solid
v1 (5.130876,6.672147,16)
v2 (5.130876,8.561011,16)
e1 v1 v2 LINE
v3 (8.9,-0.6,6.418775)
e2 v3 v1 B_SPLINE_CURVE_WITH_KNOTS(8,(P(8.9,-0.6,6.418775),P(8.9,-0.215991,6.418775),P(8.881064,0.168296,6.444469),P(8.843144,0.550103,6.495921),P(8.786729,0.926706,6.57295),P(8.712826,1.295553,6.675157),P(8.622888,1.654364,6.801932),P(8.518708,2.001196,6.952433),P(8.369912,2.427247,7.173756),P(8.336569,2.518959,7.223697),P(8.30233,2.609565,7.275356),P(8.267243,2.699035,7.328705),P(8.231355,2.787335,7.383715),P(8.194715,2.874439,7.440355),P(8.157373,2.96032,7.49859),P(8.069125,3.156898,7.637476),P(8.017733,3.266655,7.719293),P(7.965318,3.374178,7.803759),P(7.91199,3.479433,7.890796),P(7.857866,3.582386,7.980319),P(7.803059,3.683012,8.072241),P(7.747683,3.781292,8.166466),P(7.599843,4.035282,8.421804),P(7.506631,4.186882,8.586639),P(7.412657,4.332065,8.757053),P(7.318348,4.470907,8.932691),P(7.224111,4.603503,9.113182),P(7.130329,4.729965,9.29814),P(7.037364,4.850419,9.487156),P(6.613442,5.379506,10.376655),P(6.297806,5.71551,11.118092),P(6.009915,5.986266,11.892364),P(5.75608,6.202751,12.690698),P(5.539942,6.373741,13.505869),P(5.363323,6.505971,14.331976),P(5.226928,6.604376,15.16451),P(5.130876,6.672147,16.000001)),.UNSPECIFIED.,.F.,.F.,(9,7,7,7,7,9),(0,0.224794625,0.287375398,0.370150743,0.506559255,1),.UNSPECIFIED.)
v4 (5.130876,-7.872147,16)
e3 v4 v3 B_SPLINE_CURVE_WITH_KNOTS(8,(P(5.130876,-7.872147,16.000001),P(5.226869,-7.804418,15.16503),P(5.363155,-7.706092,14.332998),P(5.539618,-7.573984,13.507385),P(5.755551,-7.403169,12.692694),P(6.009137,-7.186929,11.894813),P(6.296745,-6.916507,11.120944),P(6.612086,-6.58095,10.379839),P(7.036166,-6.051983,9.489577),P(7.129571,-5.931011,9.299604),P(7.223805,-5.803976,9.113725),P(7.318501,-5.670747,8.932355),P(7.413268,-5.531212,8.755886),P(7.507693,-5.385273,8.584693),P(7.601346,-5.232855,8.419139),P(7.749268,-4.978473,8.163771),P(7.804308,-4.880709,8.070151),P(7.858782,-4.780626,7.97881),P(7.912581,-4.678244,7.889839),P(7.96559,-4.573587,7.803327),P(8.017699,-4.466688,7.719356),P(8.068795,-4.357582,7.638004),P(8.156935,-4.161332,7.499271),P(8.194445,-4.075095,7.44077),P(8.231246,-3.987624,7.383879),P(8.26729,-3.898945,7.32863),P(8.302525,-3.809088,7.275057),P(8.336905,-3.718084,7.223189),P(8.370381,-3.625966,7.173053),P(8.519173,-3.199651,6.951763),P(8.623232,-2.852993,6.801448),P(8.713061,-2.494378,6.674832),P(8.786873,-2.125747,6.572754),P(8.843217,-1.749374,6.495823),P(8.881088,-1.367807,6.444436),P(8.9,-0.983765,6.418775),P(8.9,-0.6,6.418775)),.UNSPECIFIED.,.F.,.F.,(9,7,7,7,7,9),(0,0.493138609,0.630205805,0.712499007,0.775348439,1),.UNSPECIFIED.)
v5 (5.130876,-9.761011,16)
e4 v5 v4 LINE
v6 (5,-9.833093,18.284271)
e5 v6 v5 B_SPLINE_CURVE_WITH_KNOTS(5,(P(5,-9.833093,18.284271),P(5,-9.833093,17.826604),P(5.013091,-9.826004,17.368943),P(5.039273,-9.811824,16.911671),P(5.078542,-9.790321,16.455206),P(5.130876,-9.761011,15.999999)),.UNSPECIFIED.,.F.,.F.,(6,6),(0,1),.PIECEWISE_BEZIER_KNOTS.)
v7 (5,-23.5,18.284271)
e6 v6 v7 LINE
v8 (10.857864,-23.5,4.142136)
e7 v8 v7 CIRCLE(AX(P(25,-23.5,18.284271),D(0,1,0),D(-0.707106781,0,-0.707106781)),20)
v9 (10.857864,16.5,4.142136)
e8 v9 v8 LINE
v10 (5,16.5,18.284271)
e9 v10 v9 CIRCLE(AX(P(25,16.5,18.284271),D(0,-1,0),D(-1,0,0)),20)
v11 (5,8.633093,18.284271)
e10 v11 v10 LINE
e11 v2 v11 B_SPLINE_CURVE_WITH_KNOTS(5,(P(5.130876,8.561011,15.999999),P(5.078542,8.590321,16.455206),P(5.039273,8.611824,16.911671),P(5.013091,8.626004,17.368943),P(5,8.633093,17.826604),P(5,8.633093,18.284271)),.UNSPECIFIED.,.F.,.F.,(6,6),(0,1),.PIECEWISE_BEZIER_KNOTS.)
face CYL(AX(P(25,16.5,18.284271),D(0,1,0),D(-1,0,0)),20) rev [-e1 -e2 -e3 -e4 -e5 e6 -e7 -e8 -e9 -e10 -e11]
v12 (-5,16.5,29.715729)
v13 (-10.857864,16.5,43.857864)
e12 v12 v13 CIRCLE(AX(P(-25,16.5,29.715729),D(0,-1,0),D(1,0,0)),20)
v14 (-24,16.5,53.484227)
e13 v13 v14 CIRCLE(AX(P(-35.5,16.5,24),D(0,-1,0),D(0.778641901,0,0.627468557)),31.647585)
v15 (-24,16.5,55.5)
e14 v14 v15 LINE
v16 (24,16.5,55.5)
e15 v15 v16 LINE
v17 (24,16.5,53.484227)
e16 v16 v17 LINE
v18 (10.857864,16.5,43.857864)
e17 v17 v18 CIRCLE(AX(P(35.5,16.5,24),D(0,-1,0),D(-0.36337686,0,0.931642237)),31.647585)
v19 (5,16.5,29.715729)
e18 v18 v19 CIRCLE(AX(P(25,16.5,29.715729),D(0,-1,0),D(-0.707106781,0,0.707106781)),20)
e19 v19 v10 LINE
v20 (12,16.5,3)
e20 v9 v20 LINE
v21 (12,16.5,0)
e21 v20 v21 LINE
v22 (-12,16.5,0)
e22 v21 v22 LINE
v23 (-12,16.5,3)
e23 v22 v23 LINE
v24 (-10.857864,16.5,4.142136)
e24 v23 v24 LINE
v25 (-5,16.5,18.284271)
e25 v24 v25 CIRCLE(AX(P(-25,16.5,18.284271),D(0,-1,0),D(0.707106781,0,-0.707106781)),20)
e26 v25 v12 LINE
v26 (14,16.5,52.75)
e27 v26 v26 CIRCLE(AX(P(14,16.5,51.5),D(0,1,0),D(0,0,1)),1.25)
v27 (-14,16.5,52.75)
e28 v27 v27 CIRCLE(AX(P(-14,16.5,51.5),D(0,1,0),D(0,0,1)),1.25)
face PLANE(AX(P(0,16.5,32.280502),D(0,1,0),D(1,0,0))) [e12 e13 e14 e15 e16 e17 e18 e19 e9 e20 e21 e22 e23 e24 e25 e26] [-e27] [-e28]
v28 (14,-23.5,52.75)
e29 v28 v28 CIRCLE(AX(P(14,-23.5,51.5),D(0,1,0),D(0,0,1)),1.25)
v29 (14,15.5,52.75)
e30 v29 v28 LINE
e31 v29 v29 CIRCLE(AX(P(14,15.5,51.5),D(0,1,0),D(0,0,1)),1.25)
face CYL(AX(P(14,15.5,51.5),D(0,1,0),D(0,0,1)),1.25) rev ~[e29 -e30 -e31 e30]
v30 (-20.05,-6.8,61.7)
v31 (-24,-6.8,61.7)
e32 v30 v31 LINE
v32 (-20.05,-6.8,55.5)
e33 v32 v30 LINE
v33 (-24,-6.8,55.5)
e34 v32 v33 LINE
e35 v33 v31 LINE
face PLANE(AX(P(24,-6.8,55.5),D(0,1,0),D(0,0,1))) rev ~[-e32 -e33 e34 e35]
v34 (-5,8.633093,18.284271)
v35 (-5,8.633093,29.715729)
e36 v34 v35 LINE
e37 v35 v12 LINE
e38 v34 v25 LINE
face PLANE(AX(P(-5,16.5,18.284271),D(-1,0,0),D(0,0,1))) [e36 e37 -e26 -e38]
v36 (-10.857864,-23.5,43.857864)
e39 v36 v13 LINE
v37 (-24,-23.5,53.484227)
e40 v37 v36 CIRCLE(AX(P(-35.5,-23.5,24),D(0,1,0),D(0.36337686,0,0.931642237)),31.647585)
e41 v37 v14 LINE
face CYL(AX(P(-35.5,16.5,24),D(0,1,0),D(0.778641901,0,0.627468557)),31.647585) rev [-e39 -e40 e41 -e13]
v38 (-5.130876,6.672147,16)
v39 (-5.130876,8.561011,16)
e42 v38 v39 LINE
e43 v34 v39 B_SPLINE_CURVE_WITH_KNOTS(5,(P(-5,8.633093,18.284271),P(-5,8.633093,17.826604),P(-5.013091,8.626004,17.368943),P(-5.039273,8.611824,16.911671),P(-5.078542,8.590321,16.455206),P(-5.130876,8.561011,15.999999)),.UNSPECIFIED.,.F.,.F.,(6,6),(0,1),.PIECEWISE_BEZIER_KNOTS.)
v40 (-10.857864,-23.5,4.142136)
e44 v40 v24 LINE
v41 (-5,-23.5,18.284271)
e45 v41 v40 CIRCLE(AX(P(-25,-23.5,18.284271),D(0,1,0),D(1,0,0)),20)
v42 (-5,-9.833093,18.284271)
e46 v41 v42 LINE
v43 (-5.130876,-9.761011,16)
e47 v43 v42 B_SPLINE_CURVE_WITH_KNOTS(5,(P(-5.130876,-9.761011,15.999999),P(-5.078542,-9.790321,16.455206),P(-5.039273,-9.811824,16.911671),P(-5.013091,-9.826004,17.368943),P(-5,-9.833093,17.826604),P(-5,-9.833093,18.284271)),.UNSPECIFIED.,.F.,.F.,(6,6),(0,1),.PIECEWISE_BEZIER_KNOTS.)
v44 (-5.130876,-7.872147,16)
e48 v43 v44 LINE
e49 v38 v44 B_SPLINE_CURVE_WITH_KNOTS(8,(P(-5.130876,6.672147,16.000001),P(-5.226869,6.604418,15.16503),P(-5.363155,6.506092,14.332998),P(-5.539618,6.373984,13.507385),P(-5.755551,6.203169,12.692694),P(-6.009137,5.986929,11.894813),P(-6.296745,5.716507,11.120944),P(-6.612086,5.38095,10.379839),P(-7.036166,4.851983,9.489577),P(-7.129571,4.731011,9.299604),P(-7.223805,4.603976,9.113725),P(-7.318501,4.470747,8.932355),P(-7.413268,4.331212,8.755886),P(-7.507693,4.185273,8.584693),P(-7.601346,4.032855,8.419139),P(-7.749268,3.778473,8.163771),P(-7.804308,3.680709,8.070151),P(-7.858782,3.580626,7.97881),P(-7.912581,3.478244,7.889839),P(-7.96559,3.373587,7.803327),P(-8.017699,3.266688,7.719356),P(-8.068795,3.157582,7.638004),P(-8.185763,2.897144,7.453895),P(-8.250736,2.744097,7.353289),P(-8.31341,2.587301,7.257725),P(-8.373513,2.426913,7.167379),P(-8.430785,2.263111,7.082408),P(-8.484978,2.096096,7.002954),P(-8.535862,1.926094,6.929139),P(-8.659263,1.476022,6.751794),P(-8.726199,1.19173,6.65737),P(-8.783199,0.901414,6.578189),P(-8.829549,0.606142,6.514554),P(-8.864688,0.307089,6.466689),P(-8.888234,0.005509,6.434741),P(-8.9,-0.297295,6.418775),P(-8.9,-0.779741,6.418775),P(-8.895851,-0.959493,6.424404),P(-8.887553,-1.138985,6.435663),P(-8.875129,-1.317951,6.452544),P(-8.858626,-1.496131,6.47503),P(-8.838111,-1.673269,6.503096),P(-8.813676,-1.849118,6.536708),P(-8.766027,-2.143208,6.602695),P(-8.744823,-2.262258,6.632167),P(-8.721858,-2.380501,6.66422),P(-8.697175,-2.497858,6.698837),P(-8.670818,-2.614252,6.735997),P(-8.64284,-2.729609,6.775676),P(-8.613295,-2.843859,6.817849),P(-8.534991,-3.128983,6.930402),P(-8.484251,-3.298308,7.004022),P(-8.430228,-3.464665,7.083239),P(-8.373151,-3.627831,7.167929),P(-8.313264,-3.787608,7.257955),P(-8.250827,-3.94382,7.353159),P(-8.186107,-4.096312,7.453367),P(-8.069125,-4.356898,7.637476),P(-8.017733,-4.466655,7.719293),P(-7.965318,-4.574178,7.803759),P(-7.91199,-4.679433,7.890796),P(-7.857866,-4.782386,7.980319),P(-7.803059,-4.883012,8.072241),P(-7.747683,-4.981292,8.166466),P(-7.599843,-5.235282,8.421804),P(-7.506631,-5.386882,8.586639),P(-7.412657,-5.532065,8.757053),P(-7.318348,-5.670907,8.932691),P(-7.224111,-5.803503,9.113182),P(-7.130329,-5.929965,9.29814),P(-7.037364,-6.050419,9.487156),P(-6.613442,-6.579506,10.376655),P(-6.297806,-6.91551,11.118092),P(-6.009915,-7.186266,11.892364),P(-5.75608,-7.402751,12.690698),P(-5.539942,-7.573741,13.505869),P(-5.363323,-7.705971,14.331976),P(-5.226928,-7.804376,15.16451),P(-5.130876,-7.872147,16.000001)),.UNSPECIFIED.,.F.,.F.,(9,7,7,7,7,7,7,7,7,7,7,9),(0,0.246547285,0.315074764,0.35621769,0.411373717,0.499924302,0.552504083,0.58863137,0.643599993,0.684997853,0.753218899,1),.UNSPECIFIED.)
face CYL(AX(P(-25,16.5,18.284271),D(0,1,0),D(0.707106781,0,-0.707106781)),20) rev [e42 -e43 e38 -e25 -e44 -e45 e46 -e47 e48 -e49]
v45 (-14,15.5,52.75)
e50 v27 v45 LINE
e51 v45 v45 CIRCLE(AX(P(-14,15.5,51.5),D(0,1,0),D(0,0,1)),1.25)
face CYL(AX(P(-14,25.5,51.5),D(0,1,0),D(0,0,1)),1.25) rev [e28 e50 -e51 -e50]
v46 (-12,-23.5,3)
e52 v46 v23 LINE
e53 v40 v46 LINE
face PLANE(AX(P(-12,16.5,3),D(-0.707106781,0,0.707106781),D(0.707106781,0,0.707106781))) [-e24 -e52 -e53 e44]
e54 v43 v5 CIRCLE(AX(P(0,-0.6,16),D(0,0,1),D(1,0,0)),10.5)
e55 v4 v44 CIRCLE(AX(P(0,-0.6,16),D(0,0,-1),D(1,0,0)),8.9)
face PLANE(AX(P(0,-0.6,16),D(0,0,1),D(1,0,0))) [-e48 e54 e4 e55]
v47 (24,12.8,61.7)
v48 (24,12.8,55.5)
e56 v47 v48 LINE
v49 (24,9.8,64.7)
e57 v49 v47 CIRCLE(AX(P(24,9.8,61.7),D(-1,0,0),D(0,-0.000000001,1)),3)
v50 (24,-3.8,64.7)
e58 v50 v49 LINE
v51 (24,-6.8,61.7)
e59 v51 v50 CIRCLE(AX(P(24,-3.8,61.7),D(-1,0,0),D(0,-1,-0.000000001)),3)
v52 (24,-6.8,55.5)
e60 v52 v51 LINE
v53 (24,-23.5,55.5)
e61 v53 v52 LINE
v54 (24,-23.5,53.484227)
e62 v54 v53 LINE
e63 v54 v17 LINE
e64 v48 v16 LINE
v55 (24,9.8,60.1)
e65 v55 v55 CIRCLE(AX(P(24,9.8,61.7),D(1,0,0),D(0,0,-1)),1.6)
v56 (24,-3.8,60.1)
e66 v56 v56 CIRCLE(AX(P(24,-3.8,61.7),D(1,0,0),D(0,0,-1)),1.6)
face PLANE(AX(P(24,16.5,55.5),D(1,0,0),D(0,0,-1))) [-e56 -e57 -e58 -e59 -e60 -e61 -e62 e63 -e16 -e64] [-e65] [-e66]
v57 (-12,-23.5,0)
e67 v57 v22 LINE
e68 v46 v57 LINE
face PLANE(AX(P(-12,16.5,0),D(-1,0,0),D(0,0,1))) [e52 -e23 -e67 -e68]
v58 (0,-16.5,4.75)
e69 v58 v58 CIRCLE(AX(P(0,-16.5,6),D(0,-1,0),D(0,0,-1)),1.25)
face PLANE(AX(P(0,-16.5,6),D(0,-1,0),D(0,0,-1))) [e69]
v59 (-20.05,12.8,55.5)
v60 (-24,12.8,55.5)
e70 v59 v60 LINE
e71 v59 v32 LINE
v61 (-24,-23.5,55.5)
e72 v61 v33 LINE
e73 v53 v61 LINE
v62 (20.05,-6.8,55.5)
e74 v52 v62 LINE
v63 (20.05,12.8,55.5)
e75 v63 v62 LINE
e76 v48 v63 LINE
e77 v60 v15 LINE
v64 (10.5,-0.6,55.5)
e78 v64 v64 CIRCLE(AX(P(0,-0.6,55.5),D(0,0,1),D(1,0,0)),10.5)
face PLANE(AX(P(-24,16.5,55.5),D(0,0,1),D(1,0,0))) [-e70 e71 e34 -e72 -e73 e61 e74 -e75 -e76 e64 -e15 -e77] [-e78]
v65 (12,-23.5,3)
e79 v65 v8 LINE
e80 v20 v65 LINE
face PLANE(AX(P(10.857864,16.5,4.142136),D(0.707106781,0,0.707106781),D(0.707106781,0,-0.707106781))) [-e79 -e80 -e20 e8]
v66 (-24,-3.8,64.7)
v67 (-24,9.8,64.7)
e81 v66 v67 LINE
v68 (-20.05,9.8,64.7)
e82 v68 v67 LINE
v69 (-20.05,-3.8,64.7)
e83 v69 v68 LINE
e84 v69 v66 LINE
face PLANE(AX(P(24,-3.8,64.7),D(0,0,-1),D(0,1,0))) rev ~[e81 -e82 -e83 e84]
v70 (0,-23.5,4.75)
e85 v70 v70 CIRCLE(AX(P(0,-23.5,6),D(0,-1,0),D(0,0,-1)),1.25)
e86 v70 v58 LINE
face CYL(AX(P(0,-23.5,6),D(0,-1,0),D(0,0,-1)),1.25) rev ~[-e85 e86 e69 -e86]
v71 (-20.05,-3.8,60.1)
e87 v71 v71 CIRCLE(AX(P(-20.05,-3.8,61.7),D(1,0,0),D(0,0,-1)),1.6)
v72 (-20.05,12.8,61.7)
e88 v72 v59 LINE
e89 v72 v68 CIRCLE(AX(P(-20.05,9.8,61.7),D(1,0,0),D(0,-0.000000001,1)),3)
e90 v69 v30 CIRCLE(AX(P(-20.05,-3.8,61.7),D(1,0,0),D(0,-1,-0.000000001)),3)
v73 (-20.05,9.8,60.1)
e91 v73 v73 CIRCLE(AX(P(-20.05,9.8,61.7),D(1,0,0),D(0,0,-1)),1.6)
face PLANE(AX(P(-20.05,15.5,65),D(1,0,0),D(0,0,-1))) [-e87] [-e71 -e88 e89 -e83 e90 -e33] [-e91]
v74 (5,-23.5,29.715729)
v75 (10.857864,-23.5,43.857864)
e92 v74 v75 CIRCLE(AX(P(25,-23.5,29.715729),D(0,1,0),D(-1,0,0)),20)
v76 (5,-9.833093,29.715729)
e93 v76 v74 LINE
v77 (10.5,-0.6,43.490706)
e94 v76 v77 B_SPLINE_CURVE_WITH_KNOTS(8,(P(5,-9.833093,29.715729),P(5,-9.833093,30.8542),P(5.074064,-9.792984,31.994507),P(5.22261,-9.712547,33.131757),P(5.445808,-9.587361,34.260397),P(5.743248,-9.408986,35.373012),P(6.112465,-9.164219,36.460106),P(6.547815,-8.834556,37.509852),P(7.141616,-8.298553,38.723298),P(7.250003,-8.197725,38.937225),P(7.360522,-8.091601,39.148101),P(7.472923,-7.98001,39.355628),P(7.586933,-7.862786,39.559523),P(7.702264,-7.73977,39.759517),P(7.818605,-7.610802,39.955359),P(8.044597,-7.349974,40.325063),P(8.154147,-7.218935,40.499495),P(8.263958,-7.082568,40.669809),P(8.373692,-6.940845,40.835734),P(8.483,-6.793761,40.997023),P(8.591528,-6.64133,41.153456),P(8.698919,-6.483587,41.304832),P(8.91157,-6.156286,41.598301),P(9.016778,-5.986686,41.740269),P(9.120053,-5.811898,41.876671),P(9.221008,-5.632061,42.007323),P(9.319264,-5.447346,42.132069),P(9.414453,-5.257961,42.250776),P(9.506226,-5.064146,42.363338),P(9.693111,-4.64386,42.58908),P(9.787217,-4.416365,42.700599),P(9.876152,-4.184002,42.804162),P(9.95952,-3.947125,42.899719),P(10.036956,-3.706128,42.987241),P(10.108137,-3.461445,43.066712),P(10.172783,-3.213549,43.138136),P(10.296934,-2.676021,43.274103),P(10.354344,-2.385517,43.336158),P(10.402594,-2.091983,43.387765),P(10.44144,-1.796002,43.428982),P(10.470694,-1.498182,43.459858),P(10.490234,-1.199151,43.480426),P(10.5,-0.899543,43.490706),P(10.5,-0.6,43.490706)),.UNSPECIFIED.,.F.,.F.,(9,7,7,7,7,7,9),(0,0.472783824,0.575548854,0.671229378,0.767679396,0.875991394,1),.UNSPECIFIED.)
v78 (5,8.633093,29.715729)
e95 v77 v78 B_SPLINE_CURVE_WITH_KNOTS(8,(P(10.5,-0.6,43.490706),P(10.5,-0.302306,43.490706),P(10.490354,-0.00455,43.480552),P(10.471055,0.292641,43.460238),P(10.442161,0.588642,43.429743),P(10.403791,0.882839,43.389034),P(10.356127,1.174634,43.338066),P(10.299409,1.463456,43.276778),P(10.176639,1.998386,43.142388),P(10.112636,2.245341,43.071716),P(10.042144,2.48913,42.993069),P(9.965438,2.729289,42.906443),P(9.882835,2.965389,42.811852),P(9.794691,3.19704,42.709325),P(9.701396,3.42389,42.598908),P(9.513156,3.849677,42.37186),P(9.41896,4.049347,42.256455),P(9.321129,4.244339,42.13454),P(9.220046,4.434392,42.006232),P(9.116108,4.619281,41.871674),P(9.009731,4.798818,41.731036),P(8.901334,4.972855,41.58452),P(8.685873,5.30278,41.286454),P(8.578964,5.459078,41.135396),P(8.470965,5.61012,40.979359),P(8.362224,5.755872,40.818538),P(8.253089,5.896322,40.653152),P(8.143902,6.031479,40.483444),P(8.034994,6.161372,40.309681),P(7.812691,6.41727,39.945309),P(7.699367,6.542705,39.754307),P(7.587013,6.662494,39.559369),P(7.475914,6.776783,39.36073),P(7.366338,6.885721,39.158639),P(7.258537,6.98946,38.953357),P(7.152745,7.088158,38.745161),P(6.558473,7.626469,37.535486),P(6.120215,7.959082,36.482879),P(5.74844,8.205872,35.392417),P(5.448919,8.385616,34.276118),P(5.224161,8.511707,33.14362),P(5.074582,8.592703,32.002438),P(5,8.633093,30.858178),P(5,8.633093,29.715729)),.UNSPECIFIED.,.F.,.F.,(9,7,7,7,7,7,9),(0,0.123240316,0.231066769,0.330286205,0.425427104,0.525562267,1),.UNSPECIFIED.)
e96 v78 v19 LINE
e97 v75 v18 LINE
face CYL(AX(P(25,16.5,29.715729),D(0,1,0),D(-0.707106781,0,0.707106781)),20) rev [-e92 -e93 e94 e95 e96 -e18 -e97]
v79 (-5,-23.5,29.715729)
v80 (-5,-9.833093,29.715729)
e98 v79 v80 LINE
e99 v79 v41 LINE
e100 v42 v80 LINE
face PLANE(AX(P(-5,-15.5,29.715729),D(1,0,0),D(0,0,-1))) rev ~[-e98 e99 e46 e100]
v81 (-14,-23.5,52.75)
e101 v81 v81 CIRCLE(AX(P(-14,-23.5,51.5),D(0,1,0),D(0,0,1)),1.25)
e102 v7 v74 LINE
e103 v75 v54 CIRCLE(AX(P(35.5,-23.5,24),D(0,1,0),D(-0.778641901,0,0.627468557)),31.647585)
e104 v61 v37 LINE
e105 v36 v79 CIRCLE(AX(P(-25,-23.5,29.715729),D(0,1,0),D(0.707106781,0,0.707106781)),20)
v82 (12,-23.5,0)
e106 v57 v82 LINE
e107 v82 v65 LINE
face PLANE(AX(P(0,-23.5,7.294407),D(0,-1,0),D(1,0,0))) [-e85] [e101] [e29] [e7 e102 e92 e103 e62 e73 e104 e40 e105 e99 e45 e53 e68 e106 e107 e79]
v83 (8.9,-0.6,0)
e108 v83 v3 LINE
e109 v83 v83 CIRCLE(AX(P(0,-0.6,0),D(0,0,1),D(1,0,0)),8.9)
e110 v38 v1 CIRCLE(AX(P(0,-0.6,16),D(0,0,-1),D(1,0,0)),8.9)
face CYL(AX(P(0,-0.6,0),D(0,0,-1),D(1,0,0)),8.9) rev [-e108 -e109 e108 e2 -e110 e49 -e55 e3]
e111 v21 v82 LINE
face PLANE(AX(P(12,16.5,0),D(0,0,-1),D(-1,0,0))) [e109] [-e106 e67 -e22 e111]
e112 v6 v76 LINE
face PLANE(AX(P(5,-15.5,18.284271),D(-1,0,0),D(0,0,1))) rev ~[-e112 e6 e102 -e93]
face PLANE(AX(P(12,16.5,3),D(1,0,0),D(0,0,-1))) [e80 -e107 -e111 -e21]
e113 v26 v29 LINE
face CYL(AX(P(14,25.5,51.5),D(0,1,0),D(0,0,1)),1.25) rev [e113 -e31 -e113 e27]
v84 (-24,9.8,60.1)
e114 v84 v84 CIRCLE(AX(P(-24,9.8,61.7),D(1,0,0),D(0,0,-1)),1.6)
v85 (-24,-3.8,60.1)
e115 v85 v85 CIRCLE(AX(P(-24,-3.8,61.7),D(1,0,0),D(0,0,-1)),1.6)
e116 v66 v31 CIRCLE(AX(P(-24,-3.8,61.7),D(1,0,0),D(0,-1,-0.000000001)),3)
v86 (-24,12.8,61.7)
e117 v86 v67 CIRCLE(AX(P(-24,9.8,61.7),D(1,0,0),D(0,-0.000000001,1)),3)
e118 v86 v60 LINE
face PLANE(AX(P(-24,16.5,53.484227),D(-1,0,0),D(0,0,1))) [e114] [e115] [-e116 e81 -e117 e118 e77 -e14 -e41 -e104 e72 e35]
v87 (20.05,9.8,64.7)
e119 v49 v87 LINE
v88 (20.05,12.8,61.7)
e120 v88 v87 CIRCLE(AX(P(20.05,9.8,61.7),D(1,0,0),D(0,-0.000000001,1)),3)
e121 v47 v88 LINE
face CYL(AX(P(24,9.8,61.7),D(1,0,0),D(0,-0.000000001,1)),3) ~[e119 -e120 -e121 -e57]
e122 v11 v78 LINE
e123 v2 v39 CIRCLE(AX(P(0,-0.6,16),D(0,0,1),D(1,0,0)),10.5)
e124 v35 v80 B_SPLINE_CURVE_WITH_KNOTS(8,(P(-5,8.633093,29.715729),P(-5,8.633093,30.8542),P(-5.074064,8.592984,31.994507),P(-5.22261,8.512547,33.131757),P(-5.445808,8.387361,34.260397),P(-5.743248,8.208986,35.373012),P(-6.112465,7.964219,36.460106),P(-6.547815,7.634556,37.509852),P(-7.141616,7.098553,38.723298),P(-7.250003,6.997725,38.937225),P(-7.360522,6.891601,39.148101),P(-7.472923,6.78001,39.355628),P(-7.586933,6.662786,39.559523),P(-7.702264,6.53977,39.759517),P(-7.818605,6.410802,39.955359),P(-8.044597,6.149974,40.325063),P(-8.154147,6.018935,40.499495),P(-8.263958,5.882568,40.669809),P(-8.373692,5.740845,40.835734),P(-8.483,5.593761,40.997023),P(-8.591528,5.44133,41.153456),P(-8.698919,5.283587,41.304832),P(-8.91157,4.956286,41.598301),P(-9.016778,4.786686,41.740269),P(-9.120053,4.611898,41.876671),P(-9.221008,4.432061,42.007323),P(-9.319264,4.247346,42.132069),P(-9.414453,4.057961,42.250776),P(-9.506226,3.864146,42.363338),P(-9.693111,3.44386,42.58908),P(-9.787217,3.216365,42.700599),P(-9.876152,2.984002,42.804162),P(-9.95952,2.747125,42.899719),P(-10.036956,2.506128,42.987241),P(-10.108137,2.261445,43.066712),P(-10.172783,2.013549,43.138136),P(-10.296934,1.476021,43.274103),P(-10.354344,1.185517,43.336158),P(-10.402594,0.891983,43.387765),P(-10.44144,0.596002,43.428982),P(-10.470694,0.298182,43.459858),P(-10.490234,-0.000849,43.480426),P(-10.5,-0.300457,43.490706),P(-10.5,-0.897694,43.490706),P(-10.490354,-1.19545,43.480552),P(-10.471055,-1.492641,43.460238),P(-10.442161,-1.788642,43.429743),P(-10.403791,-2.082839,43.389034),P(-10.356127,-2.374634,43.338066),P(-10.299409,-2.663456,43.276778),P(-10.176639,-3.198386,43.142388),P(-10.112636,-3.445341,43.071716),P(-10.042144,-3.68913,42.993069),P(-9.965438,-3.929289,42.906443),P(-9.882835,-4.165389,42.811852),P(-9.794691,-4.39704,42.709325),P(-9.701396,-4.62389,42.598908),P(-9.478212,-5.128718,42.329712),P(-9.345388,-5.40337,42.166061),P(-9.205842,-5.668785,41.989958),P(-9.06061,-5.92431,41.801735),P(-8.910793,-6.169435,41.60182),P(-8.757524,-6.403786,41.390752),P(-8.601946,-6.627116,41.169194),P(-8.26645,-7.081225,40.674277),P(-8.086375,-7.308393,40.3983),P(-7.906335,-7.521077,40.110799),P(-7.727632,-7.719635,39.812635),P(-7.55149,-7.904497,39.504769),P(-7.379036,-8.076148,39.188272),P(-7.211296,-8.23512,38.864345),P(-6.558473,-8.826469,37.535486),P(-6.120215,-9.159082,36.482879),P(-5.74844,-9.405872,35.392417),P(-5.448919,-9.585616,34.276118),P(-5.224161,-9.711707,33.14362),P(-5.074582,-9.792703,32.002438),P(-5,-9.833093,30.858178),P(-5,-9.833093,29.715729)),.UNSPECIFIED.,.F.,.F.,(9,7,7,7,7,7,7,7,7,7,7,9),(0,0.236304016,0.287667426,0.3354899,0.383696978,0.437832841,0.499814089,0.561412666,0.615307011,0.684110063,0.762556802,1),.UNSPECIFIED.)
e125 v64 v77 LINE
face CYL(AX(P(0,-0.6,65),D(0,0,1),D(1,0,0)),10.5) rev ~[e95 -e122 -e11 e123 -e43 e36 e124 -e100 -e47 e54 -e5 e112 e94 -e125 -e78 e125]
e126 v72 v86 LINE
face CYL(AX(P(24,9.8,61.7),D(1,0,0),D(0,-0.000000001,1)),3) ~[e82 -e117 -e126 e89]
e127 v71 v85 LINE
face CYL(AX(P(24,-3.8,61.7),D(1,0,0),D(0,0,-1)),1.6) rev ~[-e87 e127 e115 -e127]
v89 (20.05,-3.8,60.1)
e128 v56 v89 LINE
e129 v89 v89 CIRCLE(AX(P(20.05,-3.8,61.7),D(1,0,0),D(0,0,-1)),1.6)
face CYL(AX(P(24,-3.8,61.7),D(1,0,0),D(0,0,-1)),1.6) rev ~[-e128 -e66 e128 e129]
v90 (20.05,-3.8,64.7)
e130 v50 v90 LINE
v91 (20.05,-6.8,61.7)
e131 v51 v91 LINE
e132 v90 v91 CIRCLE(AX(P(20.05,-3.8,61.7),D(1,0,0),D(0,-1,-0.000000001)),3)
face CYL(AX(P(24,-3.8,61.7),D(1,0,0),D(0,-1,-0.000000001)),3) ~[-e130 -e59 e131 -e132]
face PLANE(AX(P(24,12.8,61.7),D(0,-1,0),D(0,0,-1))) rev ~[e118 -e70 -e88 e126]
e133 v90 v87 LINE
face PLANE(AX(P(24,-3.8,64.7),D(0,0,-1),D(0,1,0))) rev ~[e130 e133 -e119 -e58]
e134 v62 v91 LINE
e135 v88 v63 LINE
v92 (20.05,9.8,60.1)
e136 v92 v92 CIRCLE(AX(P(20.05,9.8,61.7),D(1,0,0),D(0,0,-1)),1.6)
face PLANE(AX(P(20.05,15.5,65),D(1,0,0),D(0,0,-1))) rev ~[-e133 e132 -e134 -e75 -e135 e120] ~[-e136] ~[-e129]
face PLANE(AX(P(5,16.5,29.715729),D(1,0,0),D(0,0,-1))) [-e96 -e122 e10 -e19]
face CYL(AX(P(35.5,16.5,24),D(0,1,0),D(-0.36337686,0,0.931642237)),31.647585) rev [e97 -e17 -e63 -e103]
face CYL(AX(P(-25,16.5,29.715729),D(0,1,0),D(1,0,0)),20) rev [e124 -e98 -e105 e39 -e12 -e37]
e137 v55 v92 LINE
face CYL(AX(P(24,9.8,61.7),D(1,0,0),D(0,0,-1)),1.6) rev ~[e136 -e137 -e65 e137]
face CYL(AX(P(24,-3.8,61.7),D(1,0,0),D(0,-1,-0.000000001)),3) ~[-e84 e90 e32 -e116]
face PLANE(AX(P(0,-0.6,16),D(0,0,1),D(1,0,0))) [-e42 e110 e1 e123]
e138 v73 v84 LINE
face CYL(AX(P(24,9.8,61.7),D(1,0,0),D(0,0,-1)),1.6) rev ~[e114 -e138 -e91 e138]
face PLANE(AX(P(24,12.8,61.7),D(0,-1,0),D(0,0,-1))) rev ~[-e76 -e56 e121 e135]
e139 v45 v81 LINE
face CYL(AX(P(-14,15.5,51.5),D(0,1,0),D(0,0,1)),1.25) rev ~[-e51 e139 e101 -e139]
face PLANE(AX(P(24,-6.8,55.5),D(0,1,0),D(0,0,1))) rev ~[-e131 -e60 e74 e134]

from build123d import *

# Parameters (mm, degrees)
SKETCH_1_W           = 48
SKETCH_1_H           = 31
SKETCH_1_R           = 8.9
EXTRUDE_1_DEPTH      = 65
SKETCH_2_R           = 10.5
CUT_EXTRUDE_1_DEPTH  = 49
CUT_EXTRUDE_3_DEPTH  = 76.907838857
EXTRUDE_4_DEPTH      = 8
SKETCH_11_R          = 1.25
CUT_EXTRUDE_9_DEPTH  = 80.511005658
SKETCH_15_W          = 40.1
SKETCH_15_H          = 9.5
CUT_EXTRUDE_11_DEPTH = 80.511005658
SKETCH_17_R          = 1.6
CUT_EXTRUDE_13_DEPTH = 85.150163426
SKETCH_19_W          = 3
SKETCH_19_H          = 3
CUT_EXTRUDE_14_DEPTH = 76.651107105
EXTRUDE_5_DEPTH      = 8
EXTRUDE_START        = 1
EXTRUDE_6_DEPTH      = 1
CUT_EXTRUDE_START    = -10
SKETCH_22_R          = 1.25
CUT_EXTRUDE_15_DEPTH = 10
SKETCH_23_R          = 1.25
CUT_EXTRUDE_16_DEPTH = 7


with BuildPart() as part:
    # 草图1 → 凸台-拉伸1 (new body)
    with BuildSketch(Plane.XY):
        Rectangle(SKETCH_1_W, SKETCH_1_H)
        with Locations((0, -0.6)):
            Circle(SKETCH_1_R, mode=Mode.SUBTRACT)
    extrude(amount=EXTRUDE_1_DEPTH)

    # 草图2 → 切除-拉伸1 (cut)
    with BuildSketch(Plane.XY.offset(65)):
        with Locations((0, -0.6)):
            Circle(SKETCH_2_R)
    extrude(amount=-CUT_EXTRUDE_1_DEPTH, mode=Mode.SUBTRACT)

    # 草图4 → 切除-拉伸3 (cut, through all)
    with BuildSketch(Plane(origin=(0, 15.5, 0), x_dir=(1, 0, 0), z_dir=(0, 1, 0))):
        with BuildLine():
            Line((-24, 9), (-10.857864376, -4.142135624))
            ThreePointArc((-10.857864376, -4.142135624), (-6.52240935, -10.6306026), (-5, -18.284271247))
            Line((-5, -18.284271247), (-5, -29.715728753))
            ThreePointArc((-5, -29.715728753), (-6.52240935, -37.3693974), (-10.857864376, -43.857864376))
            ThreePointArc((-10.857864376, -43.857864376), (-16.798925034, -49.531146093), (-24, -53.484226727))
            Line((-24, -53.484226727), (-24, 9))
        make_face()
        with BuildLine():
            Line((5, -18.284271247), (5, -29.715728753))
            ThreePointArc((5, -29.715728753), (6.52240935, -37.3693974), (10.857864376, -43.857864376))
            ThreePointArc((10.857864376, -43.857864376), (16.798925034, -49.531146093), (24, -53.484226727))
            Line((24, -53.484226727), (24, 9))
            Line((24, 9), (10.857864376, -4.142135624))
            ThreePointArc((10.857864376, -4.142135624), (6.52240935, -10.6306026), (5, -18.284271247))
        make_face()
    extrude(amount=-CUT_EXTRUDE_3_DEPTH, mode=Mode.SUBTRACT)

    # 草图12 → 凸台-拉伸4 (add)
    with BuildSketch(Plane.XZ.offset(15.5)):
        with BuildLine():
            Line((-5, 18.284271247), (5, 18.284271247))
            Line((5, 18.284271247), (5, 29.715728753))
            ThreePointArc((5, 29.715728753), (6.52240935, 37.3693974), (10.857864376, 43.857864376))
            ThreePointArc((10.857864376, 43.857864376), (16.798925034, 49.531146093), (24, 53.484226727))
            Line((24, 53.484226727), (24, 65))
            Line((24, 65), (-24, 65))
            Line((-24, 65), (-24, 53.484226727))
            ThreePointArc((-24, 53.484226727), (-16.798925034, 49.531146093), (-10.857864376, 43.857864376))
            ThreePointArc((-10.857864376, 43.857864376), (-6.52240935, 37.3693974), (-5, 29.715728753))
            Line((-5, 29.715728753), (-5, 18.284271247))
        make_face()
    extrude(amount=EXTRUDE_4_DEPTH)

    # 草图11 → 切除-拉伸9 (cut, through all)
    with BuildSketch(Plane(origin=(0, 15.5, 0), x_dir=(1, 0, 0), z_dir=(0, 1, 0))):
        with Locations(Location((14, -51.5, 0), (0, 0, 270))):
            Circle(SKETCH_11_R)
        with Locations(Location((-14, -51.5, 0), (0, 0, 270))):
            Circle(SKETCH_11_R)
    extrude(amount=-CUT_EXTRUDE_9_DEPTH, mode=Mode.SUBTRACT)

    # 草图15 → 切除-拉伸11 (cut, through all)
    with BuildSketch(Plane(origin=(0, 15.5, 0), x_dir=(1, 0, 0), z_dir=(0, 1, 0))):
        with Locations((0, -60.25)):
            Rectangle(SKETCH_15_W, SKETCH_15_H)
    extrude(amount=-CUT_EXTRUDE_11_DEPTH, mode=Mode.SUBTRACT)

    # 草图17 → 切除-拉伸13 (cut, through all)
    with BuildSketch(Plane(origin=(24, 0, 0), x_dir=(0, 0, -1), z_dir=(1, 0, 0))):
        with Locations((-61.7, 9.8)):
            Circle(SKETCH_17_R)
        with Locations((-61.7, -3.8)):
            Circle(SKETCH_17_R)
        with BuildLine():
            Line((-55.5, -23.5), (-55.5, -6.8))
            Line((-55.5, -6.8), (-61.7, -6.8))
            ThreePointArc((-61.7, -6.8), (-63.821320344, -5.921320344), (-64.7, -3.8))
            Line((-64.7, -3.8), (-64.7, 9.8))
            ThreePointArc((-64.7, 9.8), (-63.821320344, 11.921320344), (-61.7, 12.8))
            Line((-61.7, 12.8), (-55.5, 12.8))
            Line((-55.5, 12.8), (-55.5, 15.5))
            Line((-55.5, 15.5), (-64.7, 15.5))
            Line((-64.7, 15.5), (-94.5, 15.5))
            Line((-94.5, 15.5), (-94.5, -23.5))
            Line((-94.5, -23.5), (-55.5, -23.5))
        make_face()
    extrude(amount=-CUT_EXTRUDE_13_DEPTH, mode=Mode.SUBTRACT)

    # 草图19 → 切除-拉伸14 (cut, through all)
    with BuildSketch(Plane.XZ.offset(15.5)):
        with Locations((-13.5, 1.5)):
            Rectangle(SKETCH_19_W, SKETCH_19_H)
        with Locations((13.5, 1.5)):
            Rectangle(SKETCH_19_W, SKETCH_19_H)
    extrude(amount=-CUT_EXTRUDE_14_DEPTH, mode=Mode.SUBTRACT)

    # 草图20 → 凸台-拉伸5 (add)
    with BuildSketch(Plane.XZ.offset(15.5)):
        with BuildLine():
            Line((-10.857864376, 4.142135624), (-12, 3))
            Line((-12, 3), (-12, 0))
            Line((-12, 0), (12, 0))
            Line((12, 0), (12, 3))
            Line((12, 3), (10.857864376, 4.142135624))
            ThreePointArc((10.857864376, 4.142135624), (6.52240935, 10.6306026), (5, 18.284271247))
            Line((5, 18.284271247), (-5, 18.284271247))
            ThreePointArc((-5, 18.284271247), (-6.52240935, 10.6306026), (-10.857864376, 4.142135624))
        make_face()
    extrude(amount=EXTRUDE_5_DEPTH)

    # 草图21 → 凸台-拉伸6 (add)
    with BuildSketch(Plane(origin=(0, 15.5, 0), x_dir=(1, 0, 0), z_dir=(0, 1, 0)).offset(EXTRUDE_START)):
        with BuildLine():
            Line((12, 0), (-12, 0))
            Line((-12, 0), (-12, -3))
            Line((-12, -3), (-10.857864376, -4.142135624))
            ThreePointArc((-10.857864376, -4.142135624), (-6.52240935, -10.6306026), (-5, -18.284271247))
            Line((-5, -18.284271247), (-5, -29.715728753))
            ThreePointArc((-5, -29.715728753), (-6.52240935, -37.3693974), (-10.857864376, -43.857864376))
            ThreePointArc((-10.857864376, -43.857864376), (-16.798925034, -49.531146093), (-24, -53.484226727))
            Line((-24, -53.484226727), (-24, -55.5))
            Line((-24, -55.5), (24, -55.5))
            Line((24, -55.5), (24, -53.484226727))
            ThreePointArc((24, -53.484226727), (16.798925034, -49.531146093), (10.857864376, -43.857864376))
            ThreePointArc((10.857864376, -43.857864376), (6.52240935, -37.3693974), (5, -29.715728753))
            Line((5, -29.715728753), (5, -18.284271247))
            ThreePointArc((5, -18.284271247), (6.52240935, -10.6306026), (10.857864376, -4.142135624))
            Line((10.857864376, -4.142135624), (12, -3))
            Line((12, -3), (12, 0))
        make_face()
    extrude(amount=-EXTRUDE_6_DEPTH)

    # 草图22 → 切除-拉伸15 (cut)
    with BuildSketch(Plane.XZ.offset(-15.5).offset(CUT_EXTRUDE_START)):
        with Locations(Location((-14, 51.5, 0), (0, 0, 90))):
            Circle(SKETCH_22_R)
        with Locations(Location((14, 51.5, 0), (0, 0, 90))):
            Circle(SKETCH_22_R)
    extrude(amount=CUT_EXTRUDE_15_DEPTH, mode=Mode.SUBTRACT)

    # 草图23 → 切除-拉伸16 (cut)
    with BuildSketch(Plane.XZ.offset(23.5)):
        with Locations(Location((0, 6, 0), (0, 0, 270))):
            Circle(SKETCH_23_R)
    extrude(amount=-CUT_EXTRUDE_16_DEPTH, mode=Mode.SUBTRACT)


solid = part.part
